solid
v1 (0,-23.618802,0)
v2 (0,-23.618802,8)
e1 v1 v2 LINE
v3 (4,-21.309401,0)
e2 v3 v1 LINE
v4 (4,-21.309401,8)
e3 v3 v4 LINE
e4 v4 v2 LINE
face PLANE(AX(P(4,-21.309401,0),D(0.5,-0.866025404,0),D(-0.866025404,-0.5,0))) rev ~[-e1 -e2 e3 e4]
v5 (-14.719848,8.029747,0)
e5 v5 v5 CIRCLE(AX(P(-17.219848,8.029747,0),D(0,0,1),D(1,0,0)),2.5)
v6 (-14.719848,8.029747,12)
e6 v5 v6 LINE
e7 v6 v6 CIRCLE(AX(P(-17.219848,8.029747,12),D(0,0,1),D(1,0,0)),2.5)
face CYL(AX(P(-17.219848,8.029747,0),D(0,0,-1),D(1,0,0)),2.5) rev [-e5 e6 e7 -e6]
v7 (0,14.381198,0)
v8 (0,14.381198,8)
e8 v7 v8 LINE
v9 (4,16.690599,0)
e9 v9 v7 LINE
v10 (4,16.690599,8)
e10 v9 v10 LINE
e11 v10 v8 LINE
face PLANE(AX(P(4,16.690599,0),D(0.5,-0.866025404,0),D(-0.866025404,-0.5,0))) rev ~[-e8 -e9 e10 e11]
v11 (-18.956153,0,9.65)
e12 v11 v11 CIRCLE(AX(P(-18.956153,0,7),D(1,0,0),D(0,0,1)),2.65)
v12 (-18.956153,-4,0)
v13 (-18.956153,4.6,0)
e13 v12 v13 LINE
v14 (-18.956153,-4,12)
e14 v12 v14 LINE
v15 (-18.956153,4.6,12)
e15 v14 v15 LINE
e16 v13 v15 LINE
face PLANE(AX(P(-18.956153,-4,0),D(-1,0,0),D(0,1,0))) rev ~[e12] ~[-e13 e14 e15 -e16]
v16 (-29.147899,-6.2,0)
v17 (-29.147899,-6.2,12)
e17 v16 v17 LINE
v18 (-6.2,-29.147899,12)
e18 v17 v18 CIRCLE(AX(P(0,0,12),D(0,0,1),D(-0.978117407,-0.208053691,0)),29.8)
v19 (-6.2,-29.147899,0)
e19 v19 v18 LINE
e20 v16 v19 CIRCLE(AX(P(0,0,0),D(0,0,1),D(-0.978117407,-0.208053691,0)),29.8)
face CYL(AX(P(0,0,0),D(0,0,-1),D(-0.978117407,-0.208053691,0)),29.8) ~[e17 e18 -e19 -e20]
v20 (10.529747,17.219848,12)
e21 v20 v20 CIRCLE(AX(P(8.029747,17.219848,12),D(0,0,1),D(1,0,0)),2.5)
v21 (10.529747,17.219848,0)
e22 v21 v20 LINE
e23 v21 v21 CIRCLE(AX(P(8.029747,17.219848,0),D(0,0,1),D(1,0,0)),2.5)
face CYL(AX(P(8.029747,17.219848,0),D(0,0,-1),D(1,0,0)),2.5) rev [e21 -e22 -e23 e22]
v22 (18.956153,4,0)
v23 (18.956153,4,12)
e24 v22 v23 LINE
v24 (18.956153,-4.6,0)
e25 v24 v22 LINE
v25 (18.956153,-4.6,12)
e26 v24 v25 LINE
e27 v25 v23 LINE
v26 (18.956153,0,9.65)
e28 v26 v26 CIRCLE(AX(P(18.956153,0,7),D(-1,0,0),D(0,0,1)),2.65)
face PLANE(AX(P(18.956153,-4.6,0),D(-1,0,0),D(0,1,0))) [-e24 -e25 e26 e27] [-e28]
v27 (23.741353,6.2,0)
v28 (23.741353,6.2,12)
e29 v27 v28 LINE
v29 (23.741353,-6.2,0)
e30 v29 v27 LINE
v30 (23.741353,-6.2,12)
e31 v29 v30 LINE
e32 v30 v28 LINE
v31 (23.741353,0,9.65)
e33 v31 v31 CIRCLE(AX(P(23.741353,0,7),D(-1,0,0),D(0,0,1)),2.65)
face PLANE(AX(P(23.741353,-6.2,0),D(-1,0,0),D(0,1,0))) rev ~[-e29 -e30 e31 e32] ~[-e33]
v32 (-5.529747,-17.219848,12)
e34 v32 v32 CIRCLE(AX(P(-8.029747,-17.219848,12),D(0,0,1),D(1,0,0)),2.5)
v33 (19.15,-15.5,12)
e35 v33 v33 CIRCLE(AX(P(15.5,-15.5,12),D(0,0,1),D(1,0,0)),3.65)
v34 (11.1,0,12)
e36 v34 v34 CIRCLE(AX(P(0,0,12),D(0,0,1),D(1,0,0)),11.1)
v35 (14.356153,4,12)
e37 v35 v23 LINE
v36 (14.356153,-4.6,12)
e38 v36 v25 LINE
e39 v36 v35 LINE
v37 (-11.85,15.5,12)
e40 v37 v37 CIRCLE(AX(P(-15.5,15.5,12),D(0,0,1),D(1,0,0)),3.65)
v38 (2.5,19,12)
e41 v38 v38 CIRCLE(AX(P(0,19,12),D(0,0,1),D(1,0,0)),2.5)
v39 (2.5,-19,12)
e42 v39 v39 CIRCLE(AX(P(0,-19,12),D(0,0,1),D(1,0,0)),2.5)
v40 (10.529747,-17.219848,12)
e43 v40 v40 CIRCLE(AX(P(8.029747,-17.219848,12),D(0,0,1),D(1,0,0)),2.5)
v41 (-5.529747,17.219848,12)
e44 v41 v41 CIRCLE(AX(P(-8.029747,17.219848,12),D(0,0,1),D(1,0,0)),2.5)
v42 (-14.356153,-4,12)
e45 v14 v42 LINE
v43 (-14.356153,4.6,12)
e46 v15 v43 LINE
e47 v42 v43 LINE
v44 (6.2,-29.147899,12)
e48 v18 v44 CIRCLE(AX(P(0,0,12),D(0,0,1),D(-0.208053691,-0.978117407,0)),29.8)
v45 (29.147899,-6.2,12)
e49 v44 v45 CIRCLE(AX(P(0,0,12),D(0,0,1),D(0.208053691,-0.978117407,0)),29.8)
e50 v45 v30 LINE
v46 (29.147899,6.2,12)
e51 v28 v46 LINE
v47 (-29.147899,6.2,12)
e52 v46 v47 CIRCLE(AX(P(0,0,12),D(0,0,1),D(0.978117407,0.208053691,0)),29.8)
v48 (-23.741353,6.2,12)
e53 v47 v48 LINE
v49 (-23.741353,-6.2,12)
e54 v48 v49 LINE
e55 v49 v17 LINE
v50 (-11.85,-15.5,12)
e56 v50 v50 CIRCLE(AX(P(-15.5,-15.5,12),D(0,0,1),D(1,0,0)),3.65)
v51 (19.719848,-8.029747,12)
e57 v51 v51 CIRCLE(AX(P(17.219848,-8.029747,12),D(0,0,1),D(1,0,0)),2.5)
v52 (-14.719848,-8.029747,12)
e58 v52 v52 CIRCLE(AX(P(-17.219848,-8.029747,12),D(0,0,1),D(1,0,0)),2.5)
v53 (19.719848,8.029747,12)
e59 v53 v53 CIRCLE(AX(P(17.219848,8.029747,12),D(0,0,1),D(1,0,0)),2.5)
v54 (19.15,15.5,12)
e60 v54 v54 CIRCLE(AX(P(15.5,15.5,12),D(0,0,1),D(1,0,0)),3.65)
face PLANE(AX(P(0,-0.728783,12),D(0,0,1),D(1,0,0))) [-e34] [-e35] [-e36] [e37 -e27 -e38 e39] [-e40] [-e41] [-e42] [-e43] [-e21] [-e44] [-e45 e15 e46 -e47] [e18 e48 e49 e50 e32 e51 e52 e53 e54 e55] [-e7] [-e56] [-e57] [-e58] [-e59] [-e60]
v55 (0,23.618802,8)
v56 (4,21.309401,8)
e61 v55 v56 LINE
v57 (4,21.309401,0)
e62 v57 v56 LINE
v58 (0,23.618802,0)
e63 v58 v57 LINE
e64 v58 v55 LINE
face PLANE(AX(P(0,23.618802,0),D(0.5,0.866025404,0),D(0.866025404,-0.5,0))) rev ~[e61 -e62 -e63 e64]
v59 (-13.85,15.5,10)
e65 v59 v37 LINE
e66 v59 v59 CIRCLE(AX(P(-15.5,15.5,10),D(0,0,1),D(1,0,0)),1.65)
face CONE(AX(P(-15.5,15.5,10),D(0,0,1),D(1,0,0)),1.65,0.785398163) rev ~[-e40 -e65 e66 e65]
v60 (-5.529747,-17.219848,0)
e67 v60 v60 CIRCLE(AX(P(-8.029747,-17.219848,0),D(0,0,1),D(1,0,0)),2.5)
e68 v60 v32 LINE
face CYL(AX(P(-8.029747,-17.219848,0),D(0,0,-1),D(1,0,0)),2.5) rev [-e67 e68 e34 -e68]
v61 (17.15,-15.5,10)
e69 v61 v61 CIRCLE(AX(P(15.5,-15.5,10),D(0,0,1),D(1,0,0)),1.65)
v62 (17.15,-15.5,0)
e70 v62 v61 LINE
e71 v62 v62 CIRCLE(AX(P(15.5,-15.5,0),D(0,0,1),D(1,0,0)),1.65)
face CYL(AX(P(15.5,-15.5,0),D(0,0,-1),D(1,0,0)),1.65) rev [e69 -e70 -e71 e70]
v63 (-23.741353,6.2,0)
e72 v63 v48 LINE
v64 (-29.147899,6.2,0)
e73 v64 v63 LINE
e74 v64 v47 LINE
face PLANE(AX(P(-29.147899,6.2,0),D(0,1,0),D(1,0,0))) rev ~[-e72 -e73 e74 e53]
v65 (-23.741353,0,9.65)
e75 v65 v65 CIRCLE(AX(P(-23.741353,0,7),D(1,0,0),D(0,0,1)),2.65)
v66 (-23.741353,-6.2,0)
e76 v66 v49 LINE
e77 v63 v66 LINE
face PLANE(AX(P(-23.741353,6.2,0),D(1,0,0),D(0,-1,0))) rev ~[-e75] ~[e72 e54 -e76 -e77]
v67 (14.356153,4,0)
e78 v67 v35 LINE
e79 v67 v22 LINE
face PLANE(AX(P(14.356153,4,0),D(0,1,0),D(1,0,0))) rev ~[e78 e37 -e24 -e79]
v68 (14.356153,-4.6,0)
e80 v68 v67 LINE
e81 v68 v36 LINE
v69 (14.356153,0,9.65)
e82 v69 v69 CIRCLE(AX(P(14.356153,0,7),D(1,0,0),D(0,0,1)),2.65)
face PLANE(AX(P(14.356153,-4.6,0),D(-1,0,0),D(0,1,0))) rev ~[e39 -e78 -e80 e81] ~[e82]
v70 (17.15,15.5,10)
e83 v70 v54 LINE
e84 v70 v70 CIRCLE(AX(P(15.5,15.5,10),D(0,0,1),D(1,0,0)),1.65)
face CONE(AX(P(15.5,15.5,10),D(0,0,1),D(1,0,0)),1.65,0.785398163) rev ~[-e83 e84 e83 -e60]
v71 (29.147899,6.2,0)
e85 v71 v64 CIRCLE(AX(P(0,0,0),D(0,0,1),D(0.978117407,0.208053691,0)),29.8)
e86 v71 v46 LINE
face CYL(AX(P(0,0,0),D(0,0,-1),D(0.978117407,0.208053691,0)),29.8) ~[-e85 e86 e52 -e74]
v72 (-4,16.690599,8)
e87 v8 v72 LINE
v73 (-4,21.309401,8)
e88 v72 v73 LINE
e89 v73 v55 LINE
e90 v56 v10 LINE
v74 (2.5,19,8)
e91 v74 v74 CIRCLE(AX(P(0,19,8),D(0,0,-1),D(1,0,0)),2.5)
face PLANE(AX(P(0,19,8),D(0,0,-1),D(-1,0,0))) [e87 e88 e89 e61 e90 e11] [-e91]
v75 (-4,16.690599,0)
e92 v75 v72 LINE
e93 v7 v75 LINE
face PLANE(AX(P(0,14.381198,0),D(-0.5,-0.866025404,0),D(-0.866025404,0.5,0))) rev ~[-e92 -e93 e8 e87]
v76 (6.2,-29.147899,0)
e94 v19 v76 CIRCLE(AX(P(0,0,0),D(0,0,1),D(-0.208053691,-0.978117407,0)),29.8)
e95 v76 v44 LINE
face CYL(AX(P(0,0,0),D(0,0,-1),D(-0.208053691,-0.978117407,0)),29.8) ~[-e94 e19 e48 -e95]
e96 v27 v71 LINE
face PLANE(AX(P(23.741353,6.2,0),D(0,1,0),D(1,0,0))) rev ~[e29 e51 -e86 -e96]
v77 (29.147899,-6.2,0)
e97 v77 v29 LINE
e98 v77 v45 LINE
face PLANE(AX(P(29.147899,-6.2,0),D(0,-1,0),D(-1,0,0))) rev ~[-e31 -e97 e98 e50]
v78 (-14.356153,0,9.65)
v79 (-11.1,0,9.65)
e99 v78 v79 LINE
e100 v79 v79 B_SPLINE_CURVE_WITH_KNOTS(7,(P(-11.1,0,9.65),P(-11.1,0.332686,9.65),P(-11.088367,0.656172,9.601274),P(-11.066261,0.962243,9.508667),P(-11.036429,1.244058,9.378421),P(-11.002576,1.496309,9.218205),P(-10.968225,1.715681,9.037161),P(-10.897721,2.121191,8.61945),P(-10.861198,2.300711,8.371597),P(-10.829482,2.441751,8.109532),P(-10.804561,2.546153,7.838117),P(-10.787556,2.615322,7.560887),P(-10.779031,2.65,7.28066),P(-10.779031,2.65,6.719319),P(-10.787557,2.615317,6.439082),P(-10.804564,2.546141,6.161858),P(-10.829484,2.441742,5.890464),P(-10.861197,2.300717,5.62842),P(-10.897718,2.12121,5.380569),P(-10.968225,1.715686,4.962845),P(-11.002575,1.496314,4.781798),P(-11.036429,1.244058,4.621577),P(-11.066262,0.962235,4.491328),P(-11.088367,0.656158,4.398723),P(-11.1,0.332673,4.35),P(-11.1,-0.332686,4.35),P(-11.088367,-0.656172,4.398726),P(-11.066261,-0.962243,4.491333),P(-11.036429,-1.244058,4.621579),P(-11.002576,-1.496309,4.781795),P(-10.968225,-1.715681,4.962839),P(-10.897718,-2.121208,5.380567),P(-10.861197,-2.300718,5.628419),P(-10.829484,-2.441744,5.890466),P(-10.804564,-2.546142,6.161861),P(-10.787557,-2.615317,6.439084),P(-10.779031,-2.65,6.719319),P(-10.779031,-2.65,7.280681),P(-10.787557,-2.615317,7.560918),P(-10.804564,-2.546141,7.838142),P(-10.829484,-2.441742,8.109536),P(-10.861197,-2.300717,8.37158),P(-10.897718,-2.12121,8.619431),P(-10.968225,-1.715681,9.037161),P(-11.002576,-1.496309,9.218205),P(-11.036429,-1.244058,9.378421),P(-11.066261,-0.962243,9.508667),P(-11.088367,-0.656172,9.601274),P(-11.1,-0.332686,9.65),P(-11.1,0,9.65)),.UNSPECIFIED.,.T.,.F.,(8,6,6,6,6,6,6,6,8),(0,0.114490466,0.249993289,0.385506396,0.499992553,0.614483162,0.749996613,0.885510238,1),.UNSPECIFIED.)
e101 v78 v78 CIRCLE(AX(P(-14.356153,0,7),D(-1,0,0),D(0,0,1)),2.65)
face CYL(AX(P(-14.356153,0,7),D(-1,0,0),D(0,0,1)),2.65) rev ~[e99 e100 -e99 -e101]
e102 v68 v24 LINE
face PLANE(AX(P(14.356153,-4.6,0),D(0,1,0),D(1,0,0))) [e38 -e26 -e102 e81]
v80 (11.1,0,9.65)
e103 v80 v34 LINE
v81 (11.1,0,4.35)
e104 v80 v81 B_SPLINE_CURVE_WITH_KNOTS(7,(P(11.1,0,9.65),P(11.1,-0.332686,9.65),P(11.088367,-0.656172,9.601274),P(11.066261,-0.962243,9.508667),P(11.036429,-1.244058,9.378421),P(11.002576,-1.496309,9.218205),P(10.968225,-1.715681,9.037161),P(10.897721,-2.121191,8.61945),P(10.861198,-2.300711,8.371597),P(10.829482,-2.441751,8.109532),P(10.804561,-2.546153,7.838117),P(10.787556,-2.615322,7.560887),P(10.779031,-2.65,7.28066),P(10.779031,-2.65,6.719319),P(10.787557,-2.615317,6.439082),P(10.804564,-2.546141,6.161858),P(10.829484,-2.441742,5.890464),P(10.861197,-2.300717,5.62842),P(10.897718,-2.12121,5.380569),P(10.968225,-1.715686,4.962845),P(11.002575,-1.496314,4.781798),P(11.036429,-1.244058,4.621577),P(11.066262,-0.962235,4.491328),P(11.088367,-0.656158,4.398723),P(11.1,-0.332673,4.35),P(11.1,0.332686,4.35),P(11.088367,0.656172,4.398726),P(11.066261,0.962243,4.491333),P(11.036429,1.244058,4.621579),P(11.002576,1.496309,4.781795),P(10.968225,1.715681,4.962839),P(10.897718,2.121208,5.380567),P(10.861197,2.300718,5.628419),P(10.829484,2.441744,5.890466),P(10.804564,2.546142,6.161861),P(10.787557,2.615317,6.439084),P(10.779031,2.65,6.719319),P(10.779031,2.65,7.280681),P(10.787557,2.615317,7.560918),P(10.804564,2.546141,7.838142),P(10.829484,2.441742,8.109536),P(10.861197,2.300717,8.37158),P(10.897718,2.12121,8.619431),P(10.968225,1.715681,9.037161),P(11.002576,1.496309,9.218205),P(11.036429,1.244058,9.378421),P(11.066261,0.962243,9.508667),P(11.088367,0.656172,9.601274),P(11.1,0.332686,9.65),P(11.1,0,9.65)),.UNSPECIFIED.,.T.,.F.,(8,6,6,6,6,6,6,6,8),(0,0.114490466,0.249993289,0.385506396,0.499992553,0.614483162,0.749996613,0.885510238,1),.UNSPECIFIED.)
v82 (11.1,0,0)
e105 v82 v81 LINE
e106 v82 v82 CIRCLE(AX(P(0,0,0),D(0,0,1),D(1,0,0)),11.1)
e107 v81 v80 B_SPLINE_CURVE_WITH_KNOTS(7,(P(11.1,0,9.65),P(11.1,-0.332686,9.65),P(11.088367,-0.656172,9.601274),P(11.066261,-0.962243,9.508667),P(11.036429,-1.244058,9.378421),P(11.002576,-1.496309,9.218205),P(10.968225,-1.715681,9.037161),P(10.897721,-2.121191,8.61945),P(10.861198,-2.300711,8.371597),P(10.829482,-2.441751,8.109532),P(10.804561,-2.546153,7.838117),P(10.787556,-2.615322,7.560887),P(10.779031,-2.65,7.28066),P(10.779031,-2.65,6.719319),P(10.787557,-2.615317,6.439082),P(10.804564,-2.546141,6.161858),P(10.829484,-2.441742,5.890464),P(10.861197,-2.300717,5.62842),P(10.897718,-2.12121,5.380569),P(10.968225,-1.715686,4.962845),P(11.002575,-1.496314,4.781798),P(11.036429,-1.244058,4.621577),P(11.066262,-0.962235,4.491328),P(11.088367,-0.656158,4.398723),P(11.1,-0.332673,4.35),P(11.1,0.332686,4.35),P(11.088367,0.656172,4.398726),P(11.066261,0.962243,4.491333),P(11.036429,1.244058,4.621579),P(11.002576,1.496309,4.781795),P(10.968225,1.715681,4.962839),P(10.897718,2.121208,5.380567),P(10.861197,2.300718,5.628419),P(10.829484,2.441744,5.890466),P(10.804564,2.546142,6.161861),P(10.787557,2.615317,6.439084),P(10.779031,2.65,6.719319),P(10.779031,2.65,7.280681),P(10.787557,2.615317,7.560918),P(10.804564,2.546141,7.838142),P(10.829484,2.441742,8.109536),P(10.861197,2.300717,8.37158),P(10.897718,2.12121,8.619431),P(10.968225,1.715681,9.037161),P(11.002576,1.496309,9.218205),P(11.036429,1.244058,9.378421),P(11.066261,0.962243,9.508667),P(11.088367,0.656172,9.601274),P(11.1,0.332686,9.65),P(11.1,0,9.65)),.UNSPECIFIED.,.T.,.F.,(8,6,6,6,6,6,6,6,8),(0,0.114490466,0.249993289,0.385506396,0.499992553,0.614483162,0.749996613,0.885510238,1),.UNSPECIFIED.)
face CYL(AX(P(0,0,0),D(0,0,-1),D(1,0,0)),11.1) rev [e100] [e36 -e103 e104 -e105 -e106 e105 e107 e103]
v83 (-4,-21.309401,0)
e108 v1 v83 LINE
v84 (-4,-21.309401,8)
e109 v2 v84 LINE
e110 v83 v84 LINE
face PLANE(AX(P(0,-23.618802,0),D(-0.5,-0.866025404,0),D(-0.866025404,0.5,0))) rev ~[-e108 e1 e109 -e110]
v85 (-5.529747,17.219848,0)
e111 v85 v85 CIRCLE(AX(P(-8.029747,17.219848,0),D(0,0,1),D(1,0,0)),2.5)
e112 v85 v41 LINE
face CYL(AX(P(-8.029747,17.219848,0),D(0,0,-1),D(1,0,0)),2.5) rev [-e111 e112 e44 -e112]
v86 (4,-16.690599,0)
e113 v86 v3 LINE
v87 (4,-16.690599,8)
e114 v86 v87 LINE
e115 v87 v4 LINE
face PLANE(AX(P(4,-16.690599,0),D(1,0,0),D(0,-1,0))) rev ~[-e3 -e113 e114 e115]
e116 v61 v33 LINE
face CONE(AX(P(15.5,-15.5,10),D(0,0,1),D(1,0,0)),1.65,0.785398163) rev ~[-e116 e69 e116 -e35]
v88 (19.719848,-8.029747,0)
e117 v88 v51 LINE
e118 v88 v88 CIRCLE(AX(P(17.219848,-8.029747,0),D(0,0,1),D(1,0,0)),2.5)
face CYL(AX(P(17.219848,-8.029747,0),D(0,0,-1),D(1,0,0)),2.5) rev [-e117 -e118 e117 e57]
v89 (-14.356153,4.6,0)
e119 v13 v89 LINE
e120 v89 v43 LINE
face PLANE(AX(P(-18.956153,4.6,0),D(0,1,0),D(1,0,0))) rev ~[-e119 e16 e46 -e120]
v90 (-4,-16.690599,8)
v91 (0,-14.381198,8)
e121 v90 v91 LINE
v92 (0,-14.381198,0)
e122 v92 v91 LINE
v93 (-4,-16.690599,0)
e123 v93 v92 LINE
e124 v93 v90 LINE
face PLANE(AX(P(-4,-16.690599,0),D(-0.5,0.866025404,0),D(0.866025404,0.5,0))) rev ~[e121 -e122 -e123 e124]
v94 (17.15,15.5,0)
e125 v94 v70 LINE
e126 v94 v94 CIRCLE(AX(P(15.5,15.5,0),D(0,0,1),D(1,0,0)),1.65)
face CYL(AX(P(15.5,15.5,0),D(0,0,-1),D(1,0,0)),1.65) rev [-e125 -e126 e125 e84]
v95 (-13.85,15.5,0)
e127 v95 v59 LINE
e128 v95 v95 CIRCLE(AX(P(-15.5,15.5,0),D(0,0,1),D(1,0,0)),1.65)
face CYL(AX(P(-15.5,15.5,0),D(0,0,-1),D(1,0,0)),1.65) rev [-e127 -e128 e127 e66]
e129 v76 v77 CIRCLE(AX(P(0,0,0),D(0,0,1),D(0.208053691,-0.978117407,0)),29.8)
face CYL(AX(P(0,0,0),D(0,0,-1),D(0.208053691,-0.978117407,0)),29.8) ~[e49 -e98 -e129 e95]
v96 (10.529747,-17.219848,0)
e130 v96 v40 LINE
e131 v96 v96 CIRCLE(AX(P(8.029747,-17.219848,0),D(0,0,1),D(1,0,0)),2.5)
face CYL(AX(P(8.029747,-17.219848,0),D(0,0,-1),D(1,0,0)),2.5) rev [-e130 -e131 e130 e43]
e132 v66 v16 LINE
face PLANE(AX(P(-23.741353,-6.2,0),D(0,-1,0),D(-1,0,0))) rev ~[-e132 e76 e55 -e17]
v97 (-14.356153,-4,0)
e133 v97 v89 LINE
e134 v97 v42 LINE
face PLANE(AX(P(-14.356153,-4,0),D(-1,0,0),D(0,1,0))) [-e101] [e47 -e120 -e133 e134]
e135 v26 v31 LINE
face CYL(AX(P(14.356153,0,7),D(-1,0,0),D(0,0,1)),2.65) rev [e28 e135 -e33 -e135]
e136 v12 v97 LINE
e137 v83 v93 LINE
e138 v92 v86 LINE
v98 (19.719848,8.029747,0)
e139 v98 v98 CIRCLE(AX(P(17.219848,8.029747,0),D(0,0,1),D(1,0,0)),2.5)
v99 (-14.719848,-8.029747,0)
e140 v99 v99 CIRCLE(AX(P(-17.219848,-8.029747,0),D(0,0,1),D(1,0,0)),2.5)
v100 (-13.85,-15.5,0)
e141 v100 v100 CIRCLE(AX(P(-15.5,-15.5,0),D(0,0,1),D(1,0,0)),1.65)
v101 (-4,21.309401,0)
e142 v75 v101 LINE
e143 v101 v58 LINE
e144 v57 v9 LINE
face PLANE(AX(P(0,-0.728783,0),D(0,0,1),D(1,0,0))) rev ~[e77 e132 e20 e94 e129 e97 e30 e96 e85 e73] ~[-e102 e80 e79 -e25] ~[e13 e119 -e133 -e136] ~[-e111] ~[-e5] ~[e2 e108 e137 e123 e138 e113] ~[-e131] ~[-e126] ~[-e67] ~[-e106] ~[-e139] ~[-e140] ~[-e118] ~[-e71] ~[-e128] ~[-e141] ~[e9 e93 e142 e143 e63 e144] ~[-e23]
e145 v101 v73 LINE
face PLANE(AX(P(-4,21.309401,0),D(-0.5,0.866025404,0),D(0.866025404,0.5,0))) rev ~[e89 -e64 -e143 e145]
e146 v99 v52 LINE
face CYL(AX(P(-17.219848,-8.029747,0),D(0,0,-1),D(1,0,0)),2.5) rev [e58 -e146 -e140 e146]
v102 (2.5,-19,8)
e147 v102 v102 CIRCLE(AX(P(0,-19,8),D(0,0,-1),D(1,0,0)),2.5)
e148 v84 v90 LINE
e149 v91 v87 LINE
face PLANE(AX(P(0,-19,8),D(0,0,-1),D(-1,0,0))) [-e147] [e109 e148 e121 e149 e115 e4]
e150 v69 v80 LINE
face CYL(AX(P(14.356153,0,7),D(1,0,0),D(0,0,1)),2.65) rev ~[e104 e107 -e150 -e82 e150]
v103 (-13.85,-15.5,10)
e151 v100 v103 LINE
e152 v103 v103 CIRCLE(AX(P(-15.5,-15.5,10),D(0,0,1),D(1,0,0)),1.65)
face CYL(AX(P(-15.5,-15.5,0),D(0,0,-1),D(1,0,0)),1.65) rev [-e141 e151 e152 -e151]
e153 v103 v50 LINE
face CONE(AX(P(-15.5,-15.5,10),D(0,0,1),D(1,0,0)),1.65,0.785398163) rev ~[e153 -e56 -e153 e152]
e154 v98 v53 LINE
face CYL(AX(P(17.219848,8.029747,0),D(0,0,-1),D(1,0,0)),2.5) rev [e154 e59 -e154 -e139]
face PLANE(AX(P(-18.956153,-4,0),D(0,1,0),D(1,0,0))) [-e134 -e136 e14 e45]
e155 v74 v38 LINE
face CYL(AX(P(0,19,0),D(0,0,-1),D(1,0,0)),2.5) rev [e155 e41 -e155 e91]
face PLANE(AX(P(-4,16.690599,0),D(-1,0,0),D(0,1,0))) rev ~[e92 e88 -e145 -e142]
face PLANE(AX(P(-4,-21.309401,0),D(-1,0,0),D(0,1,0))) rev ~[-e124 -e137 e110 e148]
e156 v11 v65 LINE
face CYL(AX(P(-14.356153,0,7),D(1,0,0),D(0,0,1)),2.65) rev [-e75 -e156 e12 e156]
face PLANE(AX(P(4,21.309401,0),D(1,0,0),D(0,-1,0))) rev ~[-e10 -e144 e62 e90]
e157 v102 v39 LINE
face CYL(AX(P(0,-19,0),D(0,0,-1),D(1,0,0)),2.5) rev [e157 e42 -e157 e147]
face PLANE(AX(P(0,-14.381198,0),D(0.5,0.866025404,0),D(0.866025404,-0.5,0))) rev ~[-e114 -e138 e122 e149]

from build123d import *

# Parameters (mm, degrees)
ESQUISSE1_R                         = 1.65
ESQUISSE1_R_2                       = 2.5
ESQUISSE1_W                         = 4.6
ESQUISSE1_H                         = 8.6
ESQUISSE1_R_3                       = 11.1
BOSS_EXTRU_1_DEPTH                  = 12
CHANFREIN1_SIZE                     = 2
ENL_V_MAT_EXTRU_1_REACH             = 56.08
ESQUISSE2_R                         = 2.65
ENL_V_MAT_EXTRU_1_DIRECTION_2_DEPTH = 55.07996437
R_P_TITION_CIRCULAIRE1_COUNT        = 2
ENL_V_MAT_EXTRU_3_DEPTH             = 8


with BuildPart() as part:
    # Esquisse1 → Boss.-Extru.1 (new body)
    with BuildSketch(Plane.XY):
        with BuildLine():
            Line((-23.741352507, 6.2), (-23.741352507, -6.2))
            Line((-23.741352507, -6.2), (-29.147898724, -6.2))
            ThreePointArc((-29.147898724, -6.2), (-21.071782079, -21.071782079), (-6.2, -29.147898724))
            ThreePointArc((-6.2, -29.147898724), (0, -29.8), (6.2, -29.147898724))
            ThreePointArc((6.2, -29.147898724), (21.071782079, -21.071782079), (29.147898724, -6.2))
            Line((29.147898724, -6.2), (23.741352507, -6.2))
            Line((23.741352507, -6.2), (23.741352507, 6.2))
            Line((23.741352507, 6.2), (29.147898724, 6.2))
            ThreePointArc((29.147898724, 6.2), (0, 29.8), (-29.147898724, 6.2))
            Line((-29.147898724, 6.2), (-23.741352507, 6.2))
        make_face()
        with Locations((-15.5, -15.5)):
            Circle(ESQUISSE1_R, mode=Mode.SUBTRACT)
        with Locations((-8.029746973, -17.219847954)):
            Circle(ESQUISSE1_R_2, mode=Mode.SUBTRACT)
        with Locations((-17.219847954, -8.029746973)):
            Circle(ESQUISSE1_R_2, mode=Mode.SUBTRACT)
        with Locations((0, -19)):
            Circle(ESQUISSE1_R_2, mode=Mode.SUBTRACT)
        with Locations((8.029746973, -17.219847954)):
            Circle(ESQUISSE1_R_2, mode=Mode.SUBTRACT)
        with Locations((15.5, -15.5)):
            Circle(ESQUISSE1_R, mode=Mode.SUBTRACT)
        with Locations((17.219847954, -8.029746973)):
            Circle(ESQUISSE1_R_2, mode=Mode.SUBTRACT)
        with Locations((16.656153343, -0.3)):
            Rectangle(ESQUISSE1_W, ESQUISSE1_H, mode=Mode.SUBTRACT)
        with Locations((-16.656153343, 0.3)):
            Rectangle(ESQUISSE1_W, ESQUISSE1_H, mode=Mode.SUBTRACT)
        with Locations((-17.219847954, 8.029746973)):
            Circle(ESQUISSE1_R_2, mode=Mode.SUBTRACT)
        with Locations((-15.5, 15.5)):
            Circle(ESQUISSE1_R, mode=Mode.SUBTRACT)
        with Locations((-8.029746973, 17.219847954)):
            Circle(ESQUISSE1_R_2, mode=Mode.SUBTRACT)
        Circle(ESQUISSE1_R_3, mode=Mode.SUBTRACT)
        with Locations((17.219847954, 8.029746973)):
            Circle(ESQUISSE1_R_2, mode=Mode.SUBTRACT)
        with Locations((0, 19)):
            Circle(ESQUISSE1_R_2, mode=Mode.SUBTRACT)
        with Locations((8.029746973, 17.219847954)):
            Circle(ESQUISSE1_R_2, mode=Mode.SUBTRACT)
        with Locations((15.5, 15.5)):
            Circle(ESQUISSE1_R, mode=Mode.SUBTRACT)
    extrude(amount=BOSS_EXTRU_1_DEPTH)

    # Chanfrein1
    chanfrein1_edges = [part.edges().sort_by_distance(p)[0] for p in [
        (13.85, 15.5, 12),
        (13.85, -15.5, 12),
        (-17.15, -15.5, 12),
        (-17.15, 15.5, 12),
    ]]
    chamfer(chanfrein1_edges, length=CHANFREIN1_SIZE)

    # Esquisse2 → Enlèv. mat.-Extru.1 (cut, up to next)
    with BuildSketch(Plane.ZY.offset(14.356153343), mode=Mode.PRIVATE) as enl_v_mat_extru_1_sk1:
        with Locations((7, 0)):
            Circle(ESQUISSE2_R)
    enl_v_mat_extru_1_tool1 = extrude(enl_v_mat_extru_1_sk1.sketch, amount=-ENL_V_MAT_EXTRU_1_REACH, mode=Mode.PRIVATE) & part.part
    enl_v_mat_extru_1 = enl_v_mat_extru_1_tool1.solids().sort_by_distance((-14.356153, 0, 7))[0]
    add(enl_v_mat_extru_1, mode=Mode.SUBTRACT)

    # Esquisse2 → Enlèv. mat.-Extru.1 direction 2 (cut)
    with BuildSketch(Plane.ZY.offset(14.356153343)):
        with Locations((7, 0)):
            Circle(ESQUISSE2_R)
    enl_v_mat_extru_1_direction_2 = extrude(amount=ENL_V_MAT_EXTRU_1_DIRECTION_2_DEPTH, mode=Mode.SUBTRACT)

    # Répétition circulaire1: Enlèv. mat.-Extru.1, Enlèv. mat.-Extru.1 direction 2 ×2 about axis
    r_p_tition_circulaire1_axis = Axis((0, 0, 12), (0, 0, 1))
    add([enl_v_mat_extru_1.rotate(r_p_tition_circulaire1_axis, i * 360 / R_P_TITION_CIRCULAIRE1_COUNT) for i in range(1, R_P_TITION_CIRCULAIRE1_COUNT)], mode=Mode.SUBTRACT)
    add([enl_v_mat_extru_1_direction_2.rotate(r_p_tition_circulaire1_axis, i * 360 / R_P_TITION_CIRCULAIRE1_COUNT) for i in range(1, R_P_TITION_CIRCULAIRE1_COUNT)], mode=Mode.SUBTRACT)

    # Esquisse4 → Enlèv. mat.-Extru.3 (cut)
    with BuildSketch(Plane(origin=(0, 0, 0), x_dir=(-1, 0, 0), z_dir=(0, 0, -1))):
        Polygon((0, 14.381197846), (4, 16.690598923), (4, 21.309401077), (0, 23.618802154), (-4, 21.309401077), (-4, 16.690598923), align=None)
        Polygon((0, -14.381197846), (-4, -16.690598923), (-4, -21.309401077), (0, -23.618802154), (4, -21.309401077), (4, -16.690598923), align=None)
    extrude(amount=-ENL_V_MAT_EXTRU_3_DEPTH, mode=Mode.SUBTRACT)


solid = part.part
